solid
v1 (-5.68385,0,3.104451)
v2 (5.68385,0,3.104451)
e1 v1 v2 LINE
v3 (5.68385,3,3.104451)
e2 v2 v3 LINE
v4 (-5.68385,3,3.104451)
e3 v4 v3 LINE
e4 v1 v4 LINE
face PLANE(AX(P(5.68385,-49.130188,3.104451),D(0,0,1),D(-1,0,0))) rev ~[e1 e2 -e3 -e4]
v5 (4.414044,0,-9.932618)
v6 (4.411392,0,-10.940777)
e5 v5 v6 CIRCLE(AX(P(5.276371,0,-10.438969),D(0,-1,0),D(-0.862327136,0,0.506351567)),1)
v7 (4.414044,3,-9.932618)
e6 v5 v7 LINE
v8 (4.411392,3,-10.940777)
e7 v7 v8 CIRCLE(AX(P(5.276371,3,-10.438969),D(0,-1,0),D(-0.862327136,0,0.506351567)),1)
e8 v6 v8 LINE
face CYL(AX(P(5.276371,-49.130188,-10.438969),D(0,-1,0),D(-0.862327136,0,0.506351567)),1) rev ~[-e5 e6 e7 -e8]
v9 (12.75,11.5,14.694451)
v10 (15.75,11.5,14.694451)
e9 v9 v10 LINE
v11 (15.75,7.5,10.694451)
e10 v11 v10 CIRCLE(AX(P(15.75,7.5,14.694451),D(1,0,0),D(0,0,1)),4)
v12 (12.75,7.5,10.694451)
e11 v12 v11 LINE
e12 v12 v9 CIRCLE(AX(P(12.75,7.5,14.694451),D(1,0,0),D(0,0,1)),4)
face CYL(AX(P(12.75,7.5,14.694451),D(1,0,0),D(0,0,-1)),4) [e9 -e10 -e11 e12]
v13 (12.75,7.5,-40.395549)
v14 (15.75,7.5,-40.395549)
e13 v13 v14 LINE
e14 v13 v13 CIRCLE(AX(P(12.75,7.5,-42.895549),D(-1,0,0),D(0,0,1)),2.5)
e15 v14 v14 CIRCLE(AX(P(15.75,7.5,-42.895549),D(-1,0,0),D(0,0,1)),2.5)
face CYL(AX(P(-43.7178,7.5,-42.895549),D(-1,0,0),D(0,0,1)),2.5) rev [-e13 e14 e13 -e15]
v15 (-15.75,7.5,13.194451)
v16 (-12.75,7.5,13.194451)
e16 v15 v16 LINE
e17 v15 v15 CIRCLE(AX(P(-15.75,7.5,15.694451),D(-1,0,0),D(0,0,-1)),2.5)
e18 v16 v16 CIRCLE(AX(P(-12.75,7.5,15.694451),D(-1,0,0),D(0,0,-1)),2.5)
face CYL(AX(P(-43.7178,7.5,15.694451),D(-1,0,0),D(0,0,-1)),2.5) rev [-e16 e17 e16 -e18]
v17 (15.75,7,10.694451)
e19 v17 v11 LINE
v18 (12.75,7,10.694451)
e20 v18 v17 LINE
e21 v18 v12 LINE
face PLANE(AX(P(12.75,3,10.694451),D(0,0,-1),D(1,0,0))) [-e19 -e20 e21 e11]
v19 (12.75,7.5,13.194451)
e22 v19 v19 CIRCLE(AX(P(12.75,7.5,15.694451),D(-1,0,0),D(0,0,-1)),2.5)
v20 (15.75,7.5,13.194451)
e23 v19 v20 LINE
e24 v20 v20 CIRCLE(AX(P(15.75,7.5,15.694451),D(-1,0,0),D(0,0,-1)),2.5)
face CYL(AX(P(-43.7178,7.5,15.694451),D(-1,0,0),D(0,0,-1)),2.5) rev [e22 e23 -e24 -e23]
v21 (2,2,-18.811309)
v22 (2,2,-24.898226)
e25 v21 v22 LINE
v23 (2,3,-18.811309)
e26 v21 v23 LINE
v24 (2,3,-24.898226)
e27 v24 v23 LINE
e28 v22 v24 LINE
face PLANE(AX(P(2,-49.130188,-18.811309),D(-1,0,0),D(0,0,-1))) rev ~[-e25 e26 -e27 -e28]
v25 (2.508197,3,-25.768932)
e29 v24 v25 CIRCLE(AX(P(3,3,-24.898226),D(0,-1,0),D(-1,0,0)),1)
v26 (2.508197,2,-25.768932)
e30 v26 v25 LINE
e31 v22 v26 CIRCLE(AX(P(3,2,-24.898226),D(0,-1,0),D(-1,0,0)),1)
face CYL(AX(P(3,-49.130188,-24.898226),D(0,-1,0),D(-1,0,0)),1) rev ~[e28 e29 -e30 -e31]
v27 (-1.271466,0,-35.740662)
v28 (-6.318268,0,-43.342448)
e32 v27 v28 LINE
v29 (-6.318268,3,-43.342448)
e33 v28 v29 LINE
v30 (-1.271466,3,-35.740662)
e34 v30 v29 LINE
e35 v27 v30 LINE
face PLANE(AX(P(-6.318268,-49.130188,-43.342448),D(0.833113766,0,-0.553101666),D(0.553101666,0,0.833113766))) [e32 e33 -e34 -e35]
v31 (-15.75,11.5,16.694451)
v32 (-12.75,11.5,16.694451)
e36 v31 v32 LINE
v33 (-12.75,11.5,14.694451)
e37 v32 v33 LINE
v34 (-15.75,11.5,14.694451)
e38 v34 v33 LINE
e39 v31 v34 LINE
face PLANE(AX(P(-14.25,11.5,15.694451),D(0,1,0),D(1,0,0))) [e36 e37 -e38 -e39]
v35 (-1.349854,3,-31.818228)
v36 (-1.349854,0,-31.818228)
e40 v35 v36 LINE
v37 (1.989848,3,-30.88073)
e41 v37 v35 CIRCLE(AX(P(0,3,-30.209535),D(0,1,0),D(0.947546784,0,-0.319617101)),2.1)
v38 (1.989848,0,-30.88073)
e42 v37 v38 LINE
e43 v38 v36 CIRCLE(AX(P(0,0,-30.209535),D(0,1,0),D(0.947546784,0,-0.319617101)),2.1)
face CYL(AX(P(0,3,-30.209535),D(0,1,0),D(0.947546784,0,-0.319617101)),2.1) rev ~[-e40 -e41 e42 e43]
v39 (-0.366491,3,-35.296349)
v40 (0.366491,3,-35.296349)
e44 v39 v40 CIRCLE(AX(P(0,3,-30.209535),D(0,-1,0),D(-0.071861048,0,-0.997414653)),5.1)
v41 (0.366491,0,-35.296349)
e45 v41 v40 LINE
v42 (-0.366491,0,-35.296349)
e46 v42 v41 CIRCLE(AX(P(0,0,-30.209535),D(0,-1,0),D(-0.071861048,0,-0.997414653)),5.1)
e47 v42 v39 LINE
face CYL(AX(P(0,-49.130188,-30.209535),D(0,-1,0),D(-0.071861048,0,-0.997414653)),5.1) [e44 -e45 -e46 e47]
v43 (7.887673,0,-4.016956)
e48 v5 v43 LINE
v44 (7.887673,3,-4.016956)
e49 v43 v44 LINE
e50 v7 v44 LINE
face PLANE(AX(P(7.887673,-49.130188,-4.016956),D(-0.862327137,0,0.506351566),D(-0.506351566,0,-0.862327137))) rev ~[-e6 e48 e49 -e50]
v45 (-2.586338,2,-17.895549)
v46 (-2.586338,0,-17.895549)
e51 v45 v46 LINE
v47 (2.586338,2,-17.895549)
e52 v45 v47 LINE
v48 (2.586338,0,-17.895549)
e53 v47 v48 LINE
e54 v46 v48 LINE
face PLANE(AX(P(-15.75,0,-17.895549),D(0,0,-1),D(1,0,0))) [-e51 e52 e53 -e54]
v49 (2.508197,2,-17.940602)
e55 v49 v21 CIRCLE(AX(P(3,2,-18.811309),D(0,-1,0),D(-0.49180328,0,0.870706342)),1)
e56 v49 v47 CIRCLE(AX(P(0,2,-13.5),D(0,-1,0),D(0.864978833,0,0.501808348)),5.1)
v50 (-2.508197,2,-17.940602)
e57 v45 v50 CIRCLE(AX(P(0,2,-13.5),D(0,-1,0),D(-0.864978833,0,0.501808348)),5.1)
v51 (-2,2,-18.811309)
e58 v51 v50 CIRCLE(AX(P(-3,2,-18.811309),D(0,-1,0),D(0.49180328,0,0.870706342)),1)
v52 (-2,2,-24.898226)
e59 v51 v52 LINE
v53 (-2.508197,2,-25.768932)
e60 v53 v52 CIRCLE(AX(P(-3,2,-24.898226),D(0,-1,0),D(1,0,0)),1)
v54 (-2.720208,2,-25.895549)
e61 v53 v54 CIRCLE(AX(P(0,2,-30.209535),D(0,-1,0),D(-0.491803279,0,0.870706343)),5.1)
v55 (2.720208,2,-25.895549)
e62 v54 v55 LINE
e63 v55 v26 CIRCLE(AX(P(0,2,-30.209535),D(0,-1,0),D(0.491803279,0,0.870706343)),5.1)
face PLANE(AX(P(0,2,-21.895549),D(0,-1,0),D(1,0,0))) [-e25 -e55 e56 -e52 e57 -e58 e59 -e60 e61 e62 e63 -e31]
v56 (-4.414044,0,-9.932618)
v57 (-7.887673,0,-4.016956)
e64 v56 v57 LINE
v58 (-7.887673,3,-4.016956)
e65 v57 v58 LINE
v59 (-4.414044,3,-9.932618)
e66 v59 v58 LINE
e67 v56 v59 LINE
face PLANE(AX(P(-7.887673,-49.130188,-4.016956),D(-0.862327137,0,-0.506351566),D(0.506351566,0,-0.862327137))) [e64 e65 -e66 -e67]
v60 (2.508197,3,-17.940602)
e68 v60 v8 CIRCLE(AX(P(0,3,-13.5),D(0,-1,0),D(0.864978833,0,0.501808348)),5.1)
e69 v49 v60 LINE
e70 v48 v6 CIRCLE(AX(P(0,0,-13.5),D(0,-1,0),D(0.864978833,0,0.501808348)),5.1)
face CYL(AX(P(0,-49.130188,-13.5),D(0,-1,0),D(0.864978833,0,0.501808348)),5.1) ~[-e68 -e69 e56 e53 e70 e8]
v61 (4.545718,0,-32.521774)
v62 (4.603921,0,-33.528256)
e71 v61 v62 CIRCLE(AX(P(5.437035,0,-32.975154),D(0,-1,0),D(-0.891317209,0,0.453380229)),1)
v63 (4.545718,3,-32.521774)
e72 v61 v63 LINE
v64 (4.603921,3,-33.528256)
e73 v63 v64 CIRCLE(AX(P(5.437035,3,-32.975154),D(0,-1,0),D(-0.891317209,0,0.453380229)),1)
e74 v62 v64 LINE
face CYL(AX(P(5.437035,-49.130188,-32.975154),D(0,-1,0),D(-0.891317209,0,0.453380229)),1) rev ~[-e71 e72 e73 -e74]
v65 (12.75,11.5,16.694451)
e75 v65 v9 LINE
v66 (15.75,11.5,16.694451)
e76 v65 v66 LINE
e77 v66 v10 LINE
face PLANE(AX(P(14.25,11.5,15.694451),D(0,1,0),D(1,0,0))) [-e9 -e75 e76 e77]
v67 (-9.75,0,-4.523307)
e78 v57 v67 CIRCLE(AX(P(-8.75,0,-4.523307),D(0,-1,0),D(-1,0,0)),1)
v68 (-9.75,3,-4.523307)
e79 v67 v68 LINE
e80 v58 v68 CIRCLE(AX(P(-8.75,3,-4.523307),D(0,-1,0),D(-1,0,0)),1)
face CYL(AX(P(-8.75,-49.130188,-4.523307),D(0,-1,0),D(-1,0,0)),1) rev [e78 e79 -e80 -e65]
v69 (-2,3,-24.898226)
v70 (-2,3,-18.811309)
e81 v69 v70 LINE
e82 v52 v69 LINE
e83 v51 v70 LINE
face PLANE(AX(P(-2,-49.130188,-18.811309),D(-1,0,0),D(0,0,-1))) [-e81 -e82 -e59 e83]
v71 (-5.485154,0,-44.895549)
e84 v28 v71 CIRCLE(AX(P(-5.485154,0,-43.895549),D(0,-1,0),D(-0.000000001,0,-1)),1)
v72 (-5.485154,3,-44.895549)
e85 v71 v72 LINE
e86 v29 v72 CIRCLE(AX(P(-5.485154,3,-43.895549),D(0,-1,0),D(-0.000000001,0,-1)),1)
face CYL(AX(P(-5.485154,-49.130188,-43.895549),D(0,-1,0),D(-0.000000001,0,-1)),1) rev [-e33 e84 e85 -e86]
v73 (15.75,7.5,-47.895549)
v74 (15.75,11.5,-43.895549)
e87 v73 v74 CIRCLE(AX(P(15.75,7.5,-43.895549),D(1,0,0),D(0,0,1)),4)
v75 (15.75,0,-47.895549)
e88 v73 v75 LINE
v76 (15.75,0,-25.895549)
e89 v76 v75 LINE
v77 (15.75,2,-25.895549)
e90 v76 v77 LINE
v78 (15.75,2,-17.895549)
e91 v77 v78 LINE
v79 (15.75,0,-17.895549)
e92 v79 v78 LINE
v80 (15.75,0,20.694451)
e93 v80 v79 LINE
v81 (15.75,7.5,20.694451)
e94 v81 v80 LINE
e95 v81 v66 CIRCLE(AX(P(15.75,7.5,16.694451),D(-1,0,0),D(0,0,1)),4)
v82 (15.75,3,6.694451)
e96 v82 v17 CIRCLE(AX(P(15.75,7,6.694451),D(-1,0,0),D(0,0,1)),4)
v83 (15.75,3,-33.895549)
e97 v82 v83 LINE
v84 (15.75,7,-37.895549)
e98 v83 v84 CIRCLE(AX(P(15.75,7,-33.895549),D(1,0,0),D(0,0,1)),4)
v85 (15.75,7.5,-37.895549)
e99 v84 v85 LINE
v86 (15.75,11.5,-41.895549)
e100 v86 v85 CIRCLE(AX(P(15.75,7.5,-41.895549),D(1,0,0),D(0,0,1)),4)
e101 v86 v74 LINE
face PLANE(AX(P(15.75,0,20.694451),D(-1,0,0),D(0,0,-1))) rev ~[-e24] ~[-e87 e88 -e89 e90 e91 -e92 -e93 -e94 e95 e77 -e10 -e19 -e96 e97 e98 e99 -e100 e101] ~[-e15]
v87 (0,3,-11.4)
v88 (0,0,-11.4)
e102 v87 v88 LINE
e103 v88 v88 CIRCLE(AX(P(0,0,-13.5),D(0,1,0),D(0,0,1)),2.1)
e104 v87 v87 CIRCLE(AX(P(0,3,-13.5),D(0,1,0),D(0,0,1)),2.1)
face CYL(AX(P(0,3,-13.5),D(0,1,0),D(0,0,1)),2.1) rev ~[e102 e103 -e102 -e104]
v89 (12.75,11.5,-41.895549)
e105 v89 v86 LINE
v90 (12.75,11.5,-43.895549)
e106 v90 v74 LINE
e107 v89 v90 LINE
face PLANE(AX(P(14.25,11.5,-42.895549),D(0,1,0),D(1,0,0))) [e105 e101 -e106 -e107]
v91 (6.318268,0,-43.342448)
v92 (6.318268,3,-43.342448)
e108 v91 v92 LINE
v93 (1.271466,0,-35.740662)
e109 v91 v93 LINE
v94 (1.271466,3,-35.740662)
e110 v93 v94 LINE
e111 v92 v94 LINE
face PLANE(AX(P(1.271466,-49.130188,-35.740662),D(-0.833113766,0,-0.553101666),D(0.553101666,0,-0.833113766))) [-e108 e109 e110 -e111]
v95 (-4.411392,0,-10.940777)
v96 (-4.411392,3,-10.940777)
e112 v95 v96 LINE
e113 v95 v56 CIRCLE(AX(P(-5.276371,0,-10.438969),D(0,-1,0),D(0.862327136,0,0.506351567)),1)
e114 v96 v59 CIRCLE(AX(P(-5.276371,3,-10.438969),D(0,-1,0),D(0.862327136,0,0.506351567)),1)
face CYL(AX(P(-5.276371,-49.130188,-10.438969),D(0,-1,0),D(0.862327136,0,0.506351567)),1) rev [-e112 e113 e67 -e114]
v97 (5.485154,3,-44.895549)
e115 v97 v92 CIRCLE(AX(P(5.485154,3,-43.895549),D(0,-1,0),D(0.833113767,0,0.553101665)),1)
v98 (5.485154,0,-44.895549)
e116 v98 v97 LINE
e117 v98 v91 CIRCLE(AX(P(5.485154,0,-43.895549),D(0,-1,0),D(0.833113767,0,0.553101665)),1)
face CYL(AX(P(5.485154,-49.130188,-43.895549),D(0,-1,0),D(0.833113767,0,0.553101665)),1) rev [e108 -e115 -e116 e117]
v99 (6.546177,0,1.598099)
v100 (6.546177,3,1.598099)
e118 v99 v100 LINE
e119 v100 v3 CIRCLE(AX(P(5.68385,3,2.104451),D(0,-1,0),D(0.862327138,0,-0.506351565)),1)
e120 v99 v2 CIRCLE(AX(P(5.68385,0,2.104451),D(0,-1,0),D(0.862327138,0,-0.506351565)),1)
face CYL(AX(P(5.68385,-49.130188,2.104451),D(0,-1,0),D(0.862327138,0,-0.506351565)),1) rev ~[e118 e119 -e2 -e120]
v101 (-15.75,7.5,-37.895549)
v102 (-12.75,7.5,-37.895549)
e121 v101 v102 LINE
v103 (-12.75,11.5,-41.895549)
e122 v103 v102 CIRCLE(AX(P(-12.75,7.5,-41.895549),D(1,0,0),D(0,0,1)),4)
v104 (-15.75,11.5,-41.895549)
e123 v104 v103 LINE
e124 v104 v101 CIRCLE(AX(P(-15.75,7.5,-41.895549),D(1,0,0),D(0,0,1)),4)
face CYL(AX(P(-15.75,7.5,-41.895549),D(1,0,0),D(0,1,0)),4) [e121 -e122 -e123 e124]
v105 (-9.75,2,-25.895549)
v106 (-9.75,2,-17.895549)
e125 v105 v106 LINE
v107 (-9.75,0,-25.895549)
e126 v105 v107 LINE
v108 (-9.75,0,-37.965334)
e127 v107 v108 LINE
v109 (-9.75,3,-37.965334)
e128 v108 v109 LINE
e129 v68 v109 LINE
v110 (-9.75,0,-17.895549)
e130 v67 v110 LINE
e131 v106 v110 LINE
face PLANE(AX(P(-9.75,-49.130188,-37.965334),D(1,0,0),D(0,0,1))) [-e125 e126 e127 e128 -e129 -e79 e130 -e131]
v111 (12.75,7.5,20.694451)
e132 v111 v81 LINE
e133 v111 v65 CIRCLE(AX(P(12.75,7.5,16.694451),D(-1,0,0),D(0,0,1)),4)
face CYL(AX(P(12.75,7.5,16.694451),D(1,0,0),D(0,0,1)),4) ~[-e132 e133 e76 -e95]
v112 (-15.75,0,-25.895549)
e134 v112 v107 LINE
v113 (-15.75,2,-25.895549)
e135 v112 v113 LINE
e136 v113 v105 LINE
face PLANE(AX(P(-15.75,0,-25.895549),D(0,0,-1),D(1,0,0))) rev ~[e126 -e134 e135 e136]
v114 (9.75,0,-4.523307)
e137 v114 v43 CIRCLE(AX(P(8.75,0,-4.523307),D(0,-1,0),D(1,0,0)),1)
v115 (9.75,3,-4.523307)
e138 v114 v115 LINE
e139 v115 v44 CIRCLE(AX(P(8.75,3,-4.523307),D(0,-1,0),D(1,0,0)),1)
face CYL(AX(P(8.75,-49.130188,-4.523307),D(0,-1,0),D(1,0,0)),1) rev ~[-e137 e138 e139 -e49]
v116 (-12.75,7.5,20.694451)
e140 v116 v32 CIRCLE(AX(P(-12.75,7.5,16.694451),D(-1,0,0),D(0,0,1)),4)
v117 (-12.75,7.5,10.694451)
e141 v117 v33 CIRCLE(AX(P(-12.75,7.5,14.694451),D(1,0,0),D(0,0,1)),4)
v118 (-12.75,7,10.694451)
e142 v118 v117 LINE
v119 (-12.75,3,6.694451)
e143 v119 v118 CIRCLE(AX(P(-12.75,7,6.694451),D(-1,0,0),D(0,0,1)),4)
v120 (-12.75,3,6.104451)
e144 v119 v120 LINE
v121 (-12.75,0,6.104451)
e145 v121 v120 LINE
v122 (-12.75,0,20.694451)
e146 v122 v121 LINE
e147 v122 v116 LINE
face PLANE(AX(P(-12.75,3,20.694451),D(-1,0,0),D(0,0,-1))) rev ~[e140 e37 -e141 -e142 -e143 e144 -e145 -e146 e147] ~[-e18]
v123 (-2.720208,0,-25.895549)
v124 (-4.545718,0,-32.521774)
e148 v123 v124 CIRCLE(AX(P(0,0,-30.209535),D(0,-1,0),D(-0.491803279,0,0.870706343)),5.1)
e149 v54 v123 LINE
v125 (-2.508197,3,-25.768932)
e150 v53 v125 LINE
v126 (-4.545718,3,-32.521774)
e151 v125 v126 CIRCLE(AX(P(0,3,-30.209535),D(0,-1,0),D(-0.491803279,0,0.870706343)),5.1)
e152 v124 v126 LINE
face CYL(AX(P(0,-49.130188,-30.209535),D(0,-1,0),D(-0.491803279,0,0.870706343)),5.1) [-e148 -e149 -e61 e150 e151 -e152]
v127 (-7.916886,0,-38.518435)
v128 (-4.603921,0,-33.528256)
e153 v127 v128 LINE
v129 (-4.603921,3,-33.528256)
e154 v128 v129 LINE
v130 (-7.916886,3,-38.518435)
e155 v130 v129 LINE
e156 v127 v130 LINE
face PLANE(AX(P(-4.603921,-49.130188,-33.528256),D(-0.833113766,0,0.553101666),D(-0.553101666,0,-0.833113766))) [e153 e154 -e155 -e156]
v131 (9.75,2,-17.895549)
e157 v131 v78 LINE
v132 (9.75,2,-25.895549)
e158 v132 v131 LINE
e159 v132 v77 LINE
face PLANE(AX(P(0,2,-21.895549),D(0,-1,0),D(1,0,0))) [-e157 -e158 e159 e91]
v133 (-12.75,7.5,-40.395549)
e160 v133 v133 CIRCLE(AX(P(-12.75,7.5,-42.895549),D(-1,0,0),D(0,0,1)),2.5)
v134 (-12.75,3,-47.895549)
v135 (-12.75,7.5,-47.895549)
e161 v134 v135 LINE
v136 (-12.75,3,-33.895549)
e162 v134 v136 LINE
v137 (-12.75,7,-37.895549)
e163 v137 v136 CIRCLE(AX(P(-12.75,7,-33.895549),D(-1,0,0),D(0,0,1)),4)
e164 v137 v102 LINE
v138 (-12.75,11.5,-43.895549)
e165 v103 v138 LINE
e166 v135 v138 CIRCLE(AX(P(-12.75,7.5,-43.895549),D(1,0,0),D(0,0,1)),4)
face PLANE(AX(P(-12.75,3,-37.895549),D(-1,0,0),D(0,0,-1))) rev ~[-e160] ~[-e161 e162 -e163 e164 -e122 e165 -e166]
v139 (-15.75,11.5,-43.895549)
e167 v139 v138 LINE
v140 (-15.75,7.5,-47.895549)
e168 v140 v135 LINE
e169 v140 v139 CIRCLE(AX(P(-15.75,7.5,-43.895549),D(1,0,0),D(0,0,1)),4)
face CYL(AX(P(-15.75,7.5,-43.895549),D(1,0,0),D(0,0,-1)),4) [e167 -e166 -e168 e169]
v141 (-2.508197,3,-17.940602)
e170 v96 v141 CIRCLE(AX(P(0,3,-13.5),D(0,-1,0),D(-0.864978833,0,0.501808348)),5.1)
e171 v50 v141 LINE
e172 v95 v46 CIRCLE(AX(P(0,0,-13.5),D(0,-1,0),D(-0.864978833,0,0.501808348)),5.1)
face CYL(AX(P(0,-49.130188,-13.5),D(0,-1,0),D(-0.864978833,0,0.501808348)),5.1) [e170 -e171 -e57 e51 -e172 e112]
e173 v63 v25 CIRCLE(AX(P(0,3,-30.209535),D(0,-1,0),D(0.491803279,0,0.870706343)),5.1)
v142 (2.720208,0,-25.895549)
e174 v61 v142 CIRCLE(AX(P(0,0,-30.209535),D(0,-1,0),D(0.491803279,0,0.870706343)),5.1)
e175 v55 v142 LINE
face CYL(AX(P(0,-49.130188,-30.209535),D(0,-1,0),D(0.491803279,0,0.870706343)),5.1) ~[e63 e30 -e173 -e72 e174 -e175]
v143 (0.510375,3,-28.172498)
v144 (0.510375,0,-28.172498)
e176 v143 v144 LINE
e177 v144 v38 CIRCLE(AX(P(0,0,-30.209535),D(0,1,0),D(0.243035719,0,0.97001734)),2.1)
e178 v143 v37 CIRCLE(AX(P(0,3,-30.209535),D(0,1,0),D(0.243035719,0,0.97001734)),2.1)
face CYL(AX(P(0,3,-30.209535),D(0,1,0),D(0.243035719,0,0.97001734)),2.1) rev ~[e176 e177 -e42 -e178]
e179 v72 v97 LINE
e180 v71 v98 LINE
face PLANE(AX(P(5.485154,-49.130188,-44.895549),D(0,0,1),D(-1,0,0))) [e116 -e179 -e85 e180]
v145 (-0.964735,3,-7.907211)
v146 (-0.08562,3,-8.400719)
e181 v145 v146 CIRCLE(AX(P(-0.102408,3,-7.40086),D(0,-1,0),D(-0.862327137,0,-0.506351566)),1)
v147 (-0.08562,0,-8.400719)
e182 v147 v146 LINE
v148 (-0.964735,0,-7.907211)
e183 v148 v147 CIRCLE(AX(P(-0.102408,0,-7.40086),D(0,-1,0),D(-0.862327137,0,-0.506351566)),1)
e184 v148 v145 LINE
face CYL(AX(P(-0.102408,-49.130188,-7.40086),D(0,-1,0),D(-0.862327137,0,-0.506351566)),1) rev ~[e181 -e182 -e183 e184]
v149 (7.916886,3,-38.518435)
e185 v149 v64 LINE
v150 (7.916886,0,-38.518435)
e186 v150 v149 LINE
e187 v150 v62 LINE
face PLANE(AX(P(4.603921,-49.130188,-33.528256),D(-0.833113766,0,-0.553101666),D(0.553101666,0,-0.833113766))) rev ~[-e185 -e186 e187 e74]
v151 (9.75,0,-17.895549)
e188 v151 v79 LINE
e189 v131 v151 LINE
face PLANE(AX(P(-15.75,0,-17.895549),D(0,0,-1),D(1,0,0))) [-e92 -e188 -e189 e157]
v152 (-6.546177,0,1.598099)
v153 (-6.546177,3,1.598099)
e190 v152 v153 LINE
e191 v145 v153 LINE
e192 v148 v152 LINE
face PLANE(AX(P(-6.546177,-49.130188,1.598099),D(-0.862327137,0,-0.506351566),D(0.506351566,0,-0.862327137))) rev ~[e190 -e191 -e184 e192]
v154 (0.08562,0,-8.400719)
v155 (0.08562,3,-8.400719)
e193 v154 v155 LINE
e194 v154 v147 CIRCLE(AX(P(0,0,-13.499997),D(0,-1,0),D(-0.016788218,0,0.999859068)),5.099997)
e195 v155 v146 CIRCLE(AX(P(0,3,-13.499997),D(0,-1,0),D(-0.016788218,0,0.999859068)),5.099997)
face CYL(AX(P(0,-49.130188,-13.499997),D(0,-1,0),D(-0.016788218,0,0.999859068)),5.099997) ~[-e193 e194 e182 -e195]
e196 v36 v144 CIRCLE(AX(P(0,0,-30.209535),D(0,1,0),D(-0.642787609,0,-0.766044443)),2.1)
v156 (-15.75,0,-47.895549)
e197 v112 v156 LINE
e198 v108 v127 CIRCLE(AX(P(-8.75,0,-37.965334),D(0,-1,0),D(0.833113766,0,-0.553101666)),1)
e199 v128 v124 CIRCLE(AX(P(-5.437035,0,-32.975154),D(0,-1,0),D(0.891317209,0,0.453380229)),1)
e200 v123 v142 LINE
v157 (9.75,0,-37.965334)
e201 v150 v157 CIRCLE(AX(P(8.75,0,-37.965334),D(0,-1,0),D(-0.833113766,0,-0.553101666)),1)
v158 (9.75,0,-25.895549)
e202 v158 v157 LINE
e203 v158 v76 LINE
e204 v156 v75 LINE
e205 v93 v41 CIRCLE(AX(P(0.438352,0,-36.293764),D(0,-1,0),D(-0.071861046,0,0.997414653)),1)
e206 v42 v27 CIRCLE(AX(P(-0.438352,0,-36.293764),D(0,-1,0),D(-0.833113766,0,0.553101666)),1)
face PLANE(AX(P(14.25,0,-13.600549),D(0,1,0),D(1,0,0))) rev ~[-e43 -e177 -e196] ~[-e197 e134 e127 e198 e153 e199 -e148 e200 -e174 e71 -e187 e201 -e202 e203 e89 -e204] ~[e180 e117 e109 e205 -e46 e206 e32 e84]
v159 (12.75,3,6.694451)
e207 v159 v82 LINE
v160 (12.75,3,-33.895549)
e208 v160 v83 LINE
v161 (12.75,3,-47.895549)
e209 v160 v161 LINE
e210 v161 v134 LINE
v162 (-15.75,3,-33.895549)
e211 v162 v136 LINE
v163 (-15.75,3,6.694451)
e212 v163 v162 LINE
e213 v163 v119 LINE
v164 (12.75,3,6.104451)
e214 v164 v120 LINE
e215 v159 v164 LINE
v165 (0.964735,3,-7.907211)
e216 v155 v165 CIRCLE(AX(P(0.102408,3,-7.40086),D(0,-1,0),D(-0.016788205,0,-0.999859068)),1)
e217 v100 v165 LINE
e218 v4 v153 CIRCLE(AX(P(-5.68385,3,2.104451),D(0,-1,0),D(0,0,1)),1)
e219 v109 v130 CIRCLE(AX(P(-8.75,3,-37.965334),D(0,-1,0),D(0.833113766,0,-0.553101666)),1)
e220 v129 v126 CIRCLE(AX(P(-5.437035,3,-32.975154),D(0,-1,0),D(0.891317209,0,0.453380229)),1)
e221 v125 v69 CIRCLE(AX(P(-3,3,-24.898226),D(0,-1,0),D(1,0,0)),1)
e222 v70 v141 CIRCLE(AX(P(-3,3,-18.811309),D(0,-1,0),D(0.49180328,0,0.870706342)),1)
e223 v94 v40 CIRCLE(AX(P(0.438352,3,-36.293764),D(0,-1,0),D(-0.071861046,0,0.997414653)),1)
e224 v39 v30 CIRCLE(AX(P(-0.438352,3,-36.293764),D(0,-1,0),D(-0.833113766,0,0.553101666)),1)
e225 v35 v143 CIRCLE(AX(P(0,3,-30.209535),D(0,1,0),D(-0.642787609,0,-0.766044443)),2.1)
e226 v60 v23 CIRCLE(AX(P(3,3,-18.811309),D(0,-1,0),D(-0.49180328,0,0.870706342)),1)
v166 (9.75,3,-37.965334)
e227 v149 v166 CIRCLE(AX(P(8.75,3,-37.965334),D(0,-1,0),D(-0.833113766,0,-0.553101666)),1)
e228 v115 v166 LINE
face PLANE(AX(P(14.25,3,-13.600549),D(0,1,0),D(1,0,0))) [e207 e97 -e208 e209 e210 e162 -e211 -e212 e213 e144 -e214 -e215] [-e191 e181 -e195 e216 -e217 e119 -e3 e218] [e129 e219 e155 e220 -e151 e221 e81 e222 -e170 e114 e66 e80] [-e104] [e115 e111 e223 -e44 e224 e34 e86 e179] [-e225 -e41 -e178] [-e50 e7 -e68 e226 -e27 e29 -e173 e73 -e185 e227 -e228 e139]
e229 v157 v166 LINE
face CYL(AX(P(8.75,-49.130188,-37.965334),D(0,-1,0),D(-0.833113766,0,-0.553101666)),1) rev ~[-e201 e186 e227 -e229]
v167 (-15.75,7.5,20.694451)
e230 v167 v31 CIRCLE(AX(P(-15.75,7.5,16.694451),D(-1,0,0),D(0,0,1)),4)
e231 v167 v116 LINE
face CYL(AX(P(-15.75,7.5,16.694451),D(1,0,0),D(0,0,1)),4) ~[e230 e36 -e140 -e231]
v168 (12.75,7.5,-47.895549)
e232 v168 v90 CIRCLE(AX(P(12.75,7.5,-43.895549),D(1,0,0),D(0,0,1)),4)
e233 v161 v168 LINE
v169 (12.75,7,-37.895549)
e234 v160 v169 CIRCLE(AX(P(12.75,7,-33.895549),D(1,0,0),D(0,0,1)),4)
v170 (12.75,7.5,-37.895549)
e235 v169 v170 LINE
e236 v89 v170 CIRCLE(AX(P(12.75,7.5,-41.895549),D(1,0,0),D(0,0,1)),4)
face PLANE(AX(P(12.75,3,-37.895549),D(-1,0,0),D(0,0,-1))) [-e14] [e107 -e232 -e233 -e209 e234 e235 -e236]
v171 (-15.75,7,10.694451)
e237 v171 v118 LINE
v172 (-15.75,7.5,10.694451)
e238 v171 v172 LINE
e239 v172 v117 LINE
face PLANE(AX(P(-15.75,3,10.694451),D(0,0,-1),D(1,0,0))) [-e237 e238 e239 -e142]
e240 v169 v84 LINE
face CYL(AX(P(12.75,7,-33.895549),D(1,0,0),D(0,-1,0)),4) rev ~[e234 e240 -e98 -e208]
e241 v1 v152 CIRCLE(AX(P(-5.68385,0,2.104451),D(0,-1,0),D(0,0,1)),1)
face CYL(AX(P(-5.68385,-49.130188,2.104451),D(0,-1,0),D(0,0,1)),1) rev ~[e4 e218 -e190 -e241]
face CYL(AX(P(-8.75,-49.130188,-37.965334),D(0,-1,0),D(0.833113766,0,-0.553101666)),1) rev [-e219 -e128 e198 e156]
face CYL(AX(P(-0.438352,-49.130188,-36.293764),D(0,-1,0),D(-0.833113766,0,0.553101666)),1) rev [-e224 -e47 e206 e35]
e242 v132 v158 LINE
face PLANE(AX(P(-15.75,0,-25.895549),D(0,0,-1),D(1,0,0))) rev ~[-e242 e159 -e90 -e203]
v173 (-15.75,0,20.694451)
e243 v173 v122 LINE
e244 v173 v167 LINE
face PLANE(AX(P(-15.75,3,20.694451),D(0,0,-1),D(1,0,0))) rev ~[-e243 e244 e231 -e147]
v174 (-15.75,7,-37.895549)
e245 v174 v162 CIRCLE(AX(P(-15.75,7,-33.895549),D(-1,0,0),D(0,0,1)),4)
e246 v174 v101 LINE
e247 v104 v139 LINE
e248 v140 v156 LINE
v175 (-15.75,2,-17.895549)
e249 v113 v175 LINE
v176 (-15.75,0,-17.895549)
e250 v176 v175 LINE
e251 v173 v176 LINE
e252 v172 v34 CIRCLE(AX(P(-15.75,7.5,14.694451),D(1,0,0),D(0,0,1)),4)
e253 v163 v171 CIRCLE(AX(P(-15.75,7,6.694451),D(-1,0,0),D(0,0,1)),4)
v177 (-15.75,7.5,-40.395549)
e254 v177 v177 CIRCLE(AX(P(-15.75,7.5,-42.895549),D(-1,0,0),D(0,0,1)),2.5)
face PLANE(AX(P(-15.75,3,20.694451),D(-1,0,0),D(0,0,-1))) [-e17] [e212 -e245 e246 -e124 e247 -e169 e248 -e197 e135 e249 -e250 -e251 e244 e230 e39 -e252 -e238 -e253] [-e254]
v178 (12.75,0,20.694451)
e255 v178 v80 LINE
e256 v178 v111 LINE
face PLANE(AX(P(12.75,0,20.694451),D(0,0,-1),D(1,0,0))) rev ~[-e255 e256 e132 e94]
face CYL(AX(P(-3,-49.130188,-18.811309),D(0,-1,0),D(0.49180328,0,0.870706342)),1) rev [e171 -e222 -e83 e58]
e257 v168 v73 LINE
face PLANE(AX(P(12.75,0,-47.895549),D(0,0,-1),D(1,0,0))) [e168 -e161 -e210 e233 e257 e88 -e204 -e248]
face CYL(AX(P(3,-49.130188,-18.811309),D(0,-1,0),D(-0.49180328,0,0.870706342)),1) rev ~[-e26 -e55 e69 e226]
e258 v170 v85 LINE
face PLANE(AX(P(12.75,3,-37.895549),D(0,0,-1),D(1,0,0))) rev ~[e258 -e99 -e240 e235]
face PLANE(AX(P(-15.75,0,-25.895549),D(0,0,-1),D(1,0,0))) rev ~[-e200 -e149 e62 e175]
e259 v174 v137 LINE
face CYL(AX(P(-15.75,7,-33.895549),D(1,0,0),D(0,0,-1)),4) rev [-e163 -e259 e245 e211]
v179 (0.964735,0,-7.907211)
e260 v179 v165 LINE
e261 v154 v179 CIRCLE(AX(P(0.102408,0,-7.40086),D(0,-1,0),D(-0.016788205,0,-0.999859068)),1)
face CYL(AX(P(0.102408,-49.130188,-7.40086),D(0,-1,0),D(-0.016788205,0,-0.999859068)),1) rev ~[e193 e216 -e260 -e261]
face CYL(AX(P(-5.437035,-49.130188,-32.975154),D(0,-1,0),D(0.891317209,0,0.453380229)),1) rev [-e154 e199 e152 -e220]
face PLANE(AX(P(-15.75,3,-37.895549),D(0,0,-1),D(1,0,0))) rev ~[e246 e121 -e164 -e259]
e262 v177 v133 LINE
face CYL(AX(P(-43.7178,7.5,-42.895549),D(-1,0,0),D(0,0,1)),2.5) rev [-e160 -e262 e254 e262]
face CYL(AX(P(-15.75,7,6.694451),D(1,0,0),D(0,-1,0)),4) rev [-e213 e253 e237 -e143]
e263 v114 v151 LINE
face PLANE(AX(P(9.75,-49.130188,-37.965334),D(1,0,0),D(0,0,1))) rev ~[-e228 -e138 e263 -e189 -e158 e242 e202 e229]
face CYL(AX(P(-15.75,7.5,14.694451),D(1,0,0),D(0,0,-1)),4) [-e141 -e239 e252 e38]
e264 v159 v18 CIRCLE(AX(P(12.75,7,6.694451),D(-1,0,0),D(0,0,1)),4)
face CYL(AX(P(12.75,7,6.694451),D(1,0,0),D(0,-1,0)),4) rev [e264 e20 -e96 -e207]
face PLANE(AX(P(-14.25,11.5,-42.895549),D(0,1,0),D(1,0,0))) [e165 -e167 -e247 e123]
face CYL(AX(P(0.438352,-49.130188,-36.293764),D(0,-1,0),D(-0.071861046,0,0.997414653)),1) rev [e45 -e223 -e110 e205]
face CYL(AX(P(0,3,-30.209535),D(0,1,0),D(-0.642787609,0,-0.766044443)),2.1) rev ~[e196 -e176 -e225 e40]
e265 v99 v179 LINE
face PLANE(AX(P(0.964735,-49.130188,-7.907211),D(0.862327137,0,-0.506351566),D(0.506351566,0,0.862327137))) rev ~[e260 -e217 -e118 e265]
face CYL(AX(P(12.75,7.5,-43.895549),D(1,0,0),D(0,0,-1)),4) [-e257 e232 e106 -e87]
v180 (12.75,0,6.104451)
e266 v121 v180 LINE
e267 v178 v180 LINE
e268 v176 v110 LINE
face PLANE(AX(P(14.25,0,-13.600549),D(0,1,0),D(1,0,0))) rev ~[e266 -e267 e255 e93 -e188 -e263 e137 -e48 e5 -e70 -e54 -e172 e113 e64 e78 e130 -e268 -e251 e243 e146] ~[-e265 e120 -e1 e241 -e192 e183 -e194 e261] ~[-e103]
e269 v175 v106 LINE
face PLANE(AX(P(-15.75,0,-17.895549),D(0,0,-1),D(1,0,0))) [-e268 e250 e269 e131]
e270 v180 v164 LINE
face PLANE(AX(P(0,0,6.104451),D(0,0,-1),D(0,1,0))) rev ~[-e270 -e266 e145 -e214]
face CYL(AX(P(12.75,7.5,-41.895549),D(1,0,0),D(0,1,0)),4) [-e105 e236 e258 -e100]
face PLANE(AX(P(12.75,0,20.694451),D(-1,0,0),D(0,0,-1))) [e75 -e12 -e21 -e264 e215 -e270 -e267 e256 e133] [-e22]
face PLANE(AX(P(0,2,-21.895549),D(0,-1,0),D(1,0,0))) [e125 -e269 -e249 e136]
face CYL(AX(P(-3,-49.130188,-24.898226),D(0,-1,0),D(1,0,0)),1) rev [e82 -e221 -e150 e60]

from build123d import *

# Parameters (mm, degrees)
SKETCH1_W               = 54
SKETCH1_H               = 3
BOSS_EXTRUDE1_DEPTH     = 12.75
SKETCH2_W               = 3
SKETCH2_H               = 68.59
BOSS_EXTRUDE2_DEPTH     = 3
SKETCH4_R               = 2.1
CUT_EXTRUDE2_DEPTH      = 3
SKETCH5_W               = 3
SKETCH5_H               = 10
BOSS_EXTRUDE3_DEPTH     = 8.5
SKETCH6_W               = 31.5
SKETCH6_H               = 8
CUT_EXTRUDE3_DEPTH      = 2
FILLET1_R               = 4
CUT_EXTRUDE4_DEPTH      = 52.130188209
CUT_EXTRUDE4_DEPTH_BACK = 52.130188209
CUT_EXTRUDE5_DEPTH      = 59.46780008
CUT_EXTRUDE5_DEPTH_BACK = 59.46780008
SKETCH8_R               = 2.5


with BuildPart() as part:
    # Sketch1 → Boss-Extrude1 (new, symmetric)
    with BuildSketch(Plane(origin=(0, 0, 0), x_dir=(0, 0, -1), z_dir=(1, 0, 0))):
        with Locations((20.895549337, 1.5)):
            Rectangle(SKETCH1_W, SKETCH1_H)
    extrude(amount=BOSS_EXTRUDE1_DEPTH, both=True)

    # Sketch2 → Boss-Extrude2 (add)
    with BuildSketch(Plane(origin=(0, 0, 0), x_dir=(1, 0, 0), z_dir=(0, 1, 0))):
        with Locations((14.25, 13.600549337)):
            Rectangle(SKETCH2_W, SKETCH2_H)
        with Locations((-14.25, 13.600549337)):
            Rectangle(SKETCH2_W, SKETCH2_H)
    extrude(amount=BOSS_EXTRUDE2_DEPTH)

    # Sketch4 → Cut-Extrude2 (cut)
    with BuildSketch(Plane(origin=(0, 3, 0), x_dir=(1, 0, 0), z_dir=(0, 1, 0))):
        with Locations(Location((0, 13.5, 0), (0, 0, 270))):
            Circle(SKETCH4_R)
        with BuildLine():
            ThreePointArc((0.510375011, 28.172498171), (1.842935069, 29.202762349), (1.989848247, 30.880730496))
            ThreePointArc((1.989848247, 30.880730496), (0.567559264, 32.231384351), (-1.34985398, 31.818227914))
            ThreePointArc((-1.34985398, 31.818227914), (-1.870566111, 29.255080591), (0.510375011, 28.172498171))
        make_face()
    extrude(amount=-CUT_EXTRUDE2_DEPTH, mode=Mode.SUBTRACT)

    # Sketch5 → Boss-Extrude3 (add)
    with BuildSketch(Plane(origin=(0, 3, 0), x_dir=(1, 0, 0), z_dir=(0, 1, 0))):
        with Locations((-14.25, -15.694450663)):
            Rectangle(SKETCH5_W, SKETCH5_H)
        with Locations((14.25, -15.694450663)):
            Rectangle(SKETCH5_W, SKETCH5_H)
        with Locations((14.25, 42.895549337)):
            Rectangle(SKETCH5_W, SKETCH5_H)
        with Locations((-14.25, 42.895549337)):
            Rectangle(SKETCH5_W, SKETCH5_H)
    extrude(amount=BOSS_EXTRUDE3_DEPTH)

    # Sketch6 → Cut-Extrude3 (cut)
    with BuildSketch(Plane.XZ):
        with Locations((0, -21.895549337)):
            Rectangle(SKETCH6_W, SKETCH6_H)
    extrude(amount=-CUT_EXTRUDE3_DEPTH, mode=Mode.SUBTRACT)

    # Fillet1
    fillet1_edges = [part.edges().sort_by_distance(p)[0] for p in [
        (-14.25, 3, -37.895549337),
        (-14.25, 11.5, -47.895549337),
        (-14.25, 11.5, -37.895549337),
        (14.25, 3, -37.895549337),
        (14.25, 11.5, -37.895549337),
        (14.25, 11.5, -47.895549337),
        (14.25, 3, 10.694450663),
        (14.25, 11.5, 20.694450663),
        (14.25, 11.5, 10.694450663),
        (-14.25, 3, 10.694450663),
        (-14.25, 11.5, 10.694450663),
        (-14.25, 11.5, 20.694450663),
    ]]
    fillet(fillet1_edges, radius=FILLET1_R)

    # Sketch7 → Cut-Extrude4 (cut, two sides: drawn at the far end of the back side and taken through both)
    with BuildSketch(Plane(origin=(0, 3, 0), x_dir=(1, 0, 0), z_dir=(0, 1, 0)).offset(-CUT_EXTRUDE4_DEPTH_BACK)):
        with BuildLine():
            Line((0.964735196, 7.90721125), (6.54617705, -1.598099098))
            ThreePointArc((6.54617705, -1.598099098), (6.551706918, -2.60126473), (5.683849912, -3.104450663))
            Line((5.683849912, -3.104450663), (-5.683849912, -3.104450663))
            ThreePointArc((-5.683849912, -3.104450663), (-6.551706918, -2.60126473), (-6.54617705, -1.598099098))
            Line((-6.54617705, -1.598099098), (-0.964735196, 7.90721125))
            ThreePointArc((-0.964735196, 7.90721125), (-0.591919483, 8.272856568), (-0.085619852, 8.400718753))
            ThreePointArc((-0.085619852, 8.400718753), (0, 8.4), (0.085619852, 8.400718753))
            ThreePointArc((0.085619852, 8.400718753), (0.591919483, 8.272856568), (0.964735196, 7.90721125))
        make_face()
        with BuildLine():
            Line((-4.603921215, 33.528255639), (-7.916886234, 38.518435448))
            ThreePointArc((-7.916886234, 38.518435448), (-9.038865223, 38.922703555), (-9.75, 37.965333782))
            Line((-9.75, 37.965333782), (-9.75, 4.523307202))
            ThreePointArc((-9.75, 4.523307202), (-9.012366978, 3.558339032), (-7.887672863, 4.016955636))
            Line((-7.887672863, 4.016955636), (-4.414043746, 9.932617513))
            ThreePointArc((-4.414043746, 9.932617513), (-4.276374342, 10.436338854), (-4.41139205, 10.940777426))
            ThreePointArc((-4.41139205, 10.940777426), (-4.921337666, 14.838071589), (-2.508196721, 17.940602347))
            ThreePointArc((-2.508196721, 17.940602347), (-2.136344027, 18.30722699), (-2, 18.81130869))
            Line((-2, 18.81130869), (-2, 24.898225894))
            ThreePointArc((-2, 24.898225894), (-2.136344027, 25.402307594), (-2.508196721, 25.768932236))
            ThreePointArc((-2.508196721, 25.768932236), (-4.882585845, 28.736321948), (-4.545717772, 32.521773745))
            ThreePointArc((-4.545717772, 32.521773745), (-4.438702873, 33.032886126), (-4.603921215, 33.528255639))
        make_face()
        with BuildLine():
            Line((1.27146615, 35.740662301), (6.318268064, 43.342447671))
            ThreePointArc((6.318268064, 43.342447671), (6.366375514, 44.368253438), (5.485154298, 44.895549337))
            Line((5.485154298, 44.895549337), (-5.485154298, 44.895549337))
            ThreePointArc((-5.485154298, 44.895549337), (-6.366375514, 44.368253438), (-6.318268064, 43.342447671))
            Line((-6.318268064, 43.342447671), (-1.27146615, 35.740662301))
            ThreePointArc((-1.27146615, 35.740662301), (-0.879067636, 35.396117006), (-0.366491338, 35.296349314))
            ThreePointArc((-0.366491338, 35.296349314), (0, 35.309534584), (0.366491338, 35.296349314))
            ThreePointArc((0.366491338, 35.296349314), (0.879067636, 35.396117006), (1.27146615, 35.740662301))
        make_face()
        with BuildLine():
            Line((4.603921215, 33.528255639), (7.916886234, 38.518435448))
            ThreePointArc((7.916886234, 38.518435448), (9.038865223, 38.922703555), (9.75, 37.965333782))
            Line((9.75, 37.965333782), (9.75, 4.523307202))
            ThreePointArc((9.75, 4.523307202), (9.012366978, 3.558339032), (7.887672863, 4.016955636))
            Line((7.887672863, 4.016955636), (4.414043746, 9.932617513))
            ThreePointArc((4.414043746, 9.932617513), (4.276374342, 10.436338854), (4.41139205, 10.940777426))
            ThreePointArc((4.41139205, 10.940777426), (4.921337666, 14.838071589), (2.508196721, 17.940602347))
            ThreePointArc((2.508196721, 17.940602347), (2.136344027, 18.30722699), (2, 18.81130869))
            Line((2, 18.81130869), (2, 24.898225894))
            ThreePointArc((2, 24.898225894), (2.136344027, 25.402307594), (2.508196721, 25.768932236))
            ThreePointArc((2.508196721, 25.768932236), (4.882585845, 28.736321948), (4.545717772, 32.521773745))
            ThreePointArc((4.545717772, 32.521773745), (4.438702873, 33.032886126), (4.603921215, 33.528255639))
        make_face()
    extrude(amount=CUT_EXTRUDE4_DEPTH + CUT_EXTRUDE4_DEPTH_BACK, mode=Mode.SUBTRACT)

    # Sketch8 → Cut-Extrude5 (cut, two sides: drawn at the far end of the back side and taken through both)
    with BuildSketch(Plane(origin=(15.75, 0, 0), x_dir=(0, 0, -1), z_dir=(1, 0, 0)).offset(-CUT_EXTRUDE5_DEPTH_BACK)):
        with Locations((-15.694450663, 7.5)):
            Circle(SKETCH8_R)
        with Locations(Location((42.895549337, 7.5, 0), (0, 0, 180))):
            Circle(SKETCH8_R)
    extrude(amount=CUT_EXTRUDE5_DEPTH + CUT_EXTRUDE5_DEPTH_BACK, mode=Mode.SUBTRACT)


solid = part.part
